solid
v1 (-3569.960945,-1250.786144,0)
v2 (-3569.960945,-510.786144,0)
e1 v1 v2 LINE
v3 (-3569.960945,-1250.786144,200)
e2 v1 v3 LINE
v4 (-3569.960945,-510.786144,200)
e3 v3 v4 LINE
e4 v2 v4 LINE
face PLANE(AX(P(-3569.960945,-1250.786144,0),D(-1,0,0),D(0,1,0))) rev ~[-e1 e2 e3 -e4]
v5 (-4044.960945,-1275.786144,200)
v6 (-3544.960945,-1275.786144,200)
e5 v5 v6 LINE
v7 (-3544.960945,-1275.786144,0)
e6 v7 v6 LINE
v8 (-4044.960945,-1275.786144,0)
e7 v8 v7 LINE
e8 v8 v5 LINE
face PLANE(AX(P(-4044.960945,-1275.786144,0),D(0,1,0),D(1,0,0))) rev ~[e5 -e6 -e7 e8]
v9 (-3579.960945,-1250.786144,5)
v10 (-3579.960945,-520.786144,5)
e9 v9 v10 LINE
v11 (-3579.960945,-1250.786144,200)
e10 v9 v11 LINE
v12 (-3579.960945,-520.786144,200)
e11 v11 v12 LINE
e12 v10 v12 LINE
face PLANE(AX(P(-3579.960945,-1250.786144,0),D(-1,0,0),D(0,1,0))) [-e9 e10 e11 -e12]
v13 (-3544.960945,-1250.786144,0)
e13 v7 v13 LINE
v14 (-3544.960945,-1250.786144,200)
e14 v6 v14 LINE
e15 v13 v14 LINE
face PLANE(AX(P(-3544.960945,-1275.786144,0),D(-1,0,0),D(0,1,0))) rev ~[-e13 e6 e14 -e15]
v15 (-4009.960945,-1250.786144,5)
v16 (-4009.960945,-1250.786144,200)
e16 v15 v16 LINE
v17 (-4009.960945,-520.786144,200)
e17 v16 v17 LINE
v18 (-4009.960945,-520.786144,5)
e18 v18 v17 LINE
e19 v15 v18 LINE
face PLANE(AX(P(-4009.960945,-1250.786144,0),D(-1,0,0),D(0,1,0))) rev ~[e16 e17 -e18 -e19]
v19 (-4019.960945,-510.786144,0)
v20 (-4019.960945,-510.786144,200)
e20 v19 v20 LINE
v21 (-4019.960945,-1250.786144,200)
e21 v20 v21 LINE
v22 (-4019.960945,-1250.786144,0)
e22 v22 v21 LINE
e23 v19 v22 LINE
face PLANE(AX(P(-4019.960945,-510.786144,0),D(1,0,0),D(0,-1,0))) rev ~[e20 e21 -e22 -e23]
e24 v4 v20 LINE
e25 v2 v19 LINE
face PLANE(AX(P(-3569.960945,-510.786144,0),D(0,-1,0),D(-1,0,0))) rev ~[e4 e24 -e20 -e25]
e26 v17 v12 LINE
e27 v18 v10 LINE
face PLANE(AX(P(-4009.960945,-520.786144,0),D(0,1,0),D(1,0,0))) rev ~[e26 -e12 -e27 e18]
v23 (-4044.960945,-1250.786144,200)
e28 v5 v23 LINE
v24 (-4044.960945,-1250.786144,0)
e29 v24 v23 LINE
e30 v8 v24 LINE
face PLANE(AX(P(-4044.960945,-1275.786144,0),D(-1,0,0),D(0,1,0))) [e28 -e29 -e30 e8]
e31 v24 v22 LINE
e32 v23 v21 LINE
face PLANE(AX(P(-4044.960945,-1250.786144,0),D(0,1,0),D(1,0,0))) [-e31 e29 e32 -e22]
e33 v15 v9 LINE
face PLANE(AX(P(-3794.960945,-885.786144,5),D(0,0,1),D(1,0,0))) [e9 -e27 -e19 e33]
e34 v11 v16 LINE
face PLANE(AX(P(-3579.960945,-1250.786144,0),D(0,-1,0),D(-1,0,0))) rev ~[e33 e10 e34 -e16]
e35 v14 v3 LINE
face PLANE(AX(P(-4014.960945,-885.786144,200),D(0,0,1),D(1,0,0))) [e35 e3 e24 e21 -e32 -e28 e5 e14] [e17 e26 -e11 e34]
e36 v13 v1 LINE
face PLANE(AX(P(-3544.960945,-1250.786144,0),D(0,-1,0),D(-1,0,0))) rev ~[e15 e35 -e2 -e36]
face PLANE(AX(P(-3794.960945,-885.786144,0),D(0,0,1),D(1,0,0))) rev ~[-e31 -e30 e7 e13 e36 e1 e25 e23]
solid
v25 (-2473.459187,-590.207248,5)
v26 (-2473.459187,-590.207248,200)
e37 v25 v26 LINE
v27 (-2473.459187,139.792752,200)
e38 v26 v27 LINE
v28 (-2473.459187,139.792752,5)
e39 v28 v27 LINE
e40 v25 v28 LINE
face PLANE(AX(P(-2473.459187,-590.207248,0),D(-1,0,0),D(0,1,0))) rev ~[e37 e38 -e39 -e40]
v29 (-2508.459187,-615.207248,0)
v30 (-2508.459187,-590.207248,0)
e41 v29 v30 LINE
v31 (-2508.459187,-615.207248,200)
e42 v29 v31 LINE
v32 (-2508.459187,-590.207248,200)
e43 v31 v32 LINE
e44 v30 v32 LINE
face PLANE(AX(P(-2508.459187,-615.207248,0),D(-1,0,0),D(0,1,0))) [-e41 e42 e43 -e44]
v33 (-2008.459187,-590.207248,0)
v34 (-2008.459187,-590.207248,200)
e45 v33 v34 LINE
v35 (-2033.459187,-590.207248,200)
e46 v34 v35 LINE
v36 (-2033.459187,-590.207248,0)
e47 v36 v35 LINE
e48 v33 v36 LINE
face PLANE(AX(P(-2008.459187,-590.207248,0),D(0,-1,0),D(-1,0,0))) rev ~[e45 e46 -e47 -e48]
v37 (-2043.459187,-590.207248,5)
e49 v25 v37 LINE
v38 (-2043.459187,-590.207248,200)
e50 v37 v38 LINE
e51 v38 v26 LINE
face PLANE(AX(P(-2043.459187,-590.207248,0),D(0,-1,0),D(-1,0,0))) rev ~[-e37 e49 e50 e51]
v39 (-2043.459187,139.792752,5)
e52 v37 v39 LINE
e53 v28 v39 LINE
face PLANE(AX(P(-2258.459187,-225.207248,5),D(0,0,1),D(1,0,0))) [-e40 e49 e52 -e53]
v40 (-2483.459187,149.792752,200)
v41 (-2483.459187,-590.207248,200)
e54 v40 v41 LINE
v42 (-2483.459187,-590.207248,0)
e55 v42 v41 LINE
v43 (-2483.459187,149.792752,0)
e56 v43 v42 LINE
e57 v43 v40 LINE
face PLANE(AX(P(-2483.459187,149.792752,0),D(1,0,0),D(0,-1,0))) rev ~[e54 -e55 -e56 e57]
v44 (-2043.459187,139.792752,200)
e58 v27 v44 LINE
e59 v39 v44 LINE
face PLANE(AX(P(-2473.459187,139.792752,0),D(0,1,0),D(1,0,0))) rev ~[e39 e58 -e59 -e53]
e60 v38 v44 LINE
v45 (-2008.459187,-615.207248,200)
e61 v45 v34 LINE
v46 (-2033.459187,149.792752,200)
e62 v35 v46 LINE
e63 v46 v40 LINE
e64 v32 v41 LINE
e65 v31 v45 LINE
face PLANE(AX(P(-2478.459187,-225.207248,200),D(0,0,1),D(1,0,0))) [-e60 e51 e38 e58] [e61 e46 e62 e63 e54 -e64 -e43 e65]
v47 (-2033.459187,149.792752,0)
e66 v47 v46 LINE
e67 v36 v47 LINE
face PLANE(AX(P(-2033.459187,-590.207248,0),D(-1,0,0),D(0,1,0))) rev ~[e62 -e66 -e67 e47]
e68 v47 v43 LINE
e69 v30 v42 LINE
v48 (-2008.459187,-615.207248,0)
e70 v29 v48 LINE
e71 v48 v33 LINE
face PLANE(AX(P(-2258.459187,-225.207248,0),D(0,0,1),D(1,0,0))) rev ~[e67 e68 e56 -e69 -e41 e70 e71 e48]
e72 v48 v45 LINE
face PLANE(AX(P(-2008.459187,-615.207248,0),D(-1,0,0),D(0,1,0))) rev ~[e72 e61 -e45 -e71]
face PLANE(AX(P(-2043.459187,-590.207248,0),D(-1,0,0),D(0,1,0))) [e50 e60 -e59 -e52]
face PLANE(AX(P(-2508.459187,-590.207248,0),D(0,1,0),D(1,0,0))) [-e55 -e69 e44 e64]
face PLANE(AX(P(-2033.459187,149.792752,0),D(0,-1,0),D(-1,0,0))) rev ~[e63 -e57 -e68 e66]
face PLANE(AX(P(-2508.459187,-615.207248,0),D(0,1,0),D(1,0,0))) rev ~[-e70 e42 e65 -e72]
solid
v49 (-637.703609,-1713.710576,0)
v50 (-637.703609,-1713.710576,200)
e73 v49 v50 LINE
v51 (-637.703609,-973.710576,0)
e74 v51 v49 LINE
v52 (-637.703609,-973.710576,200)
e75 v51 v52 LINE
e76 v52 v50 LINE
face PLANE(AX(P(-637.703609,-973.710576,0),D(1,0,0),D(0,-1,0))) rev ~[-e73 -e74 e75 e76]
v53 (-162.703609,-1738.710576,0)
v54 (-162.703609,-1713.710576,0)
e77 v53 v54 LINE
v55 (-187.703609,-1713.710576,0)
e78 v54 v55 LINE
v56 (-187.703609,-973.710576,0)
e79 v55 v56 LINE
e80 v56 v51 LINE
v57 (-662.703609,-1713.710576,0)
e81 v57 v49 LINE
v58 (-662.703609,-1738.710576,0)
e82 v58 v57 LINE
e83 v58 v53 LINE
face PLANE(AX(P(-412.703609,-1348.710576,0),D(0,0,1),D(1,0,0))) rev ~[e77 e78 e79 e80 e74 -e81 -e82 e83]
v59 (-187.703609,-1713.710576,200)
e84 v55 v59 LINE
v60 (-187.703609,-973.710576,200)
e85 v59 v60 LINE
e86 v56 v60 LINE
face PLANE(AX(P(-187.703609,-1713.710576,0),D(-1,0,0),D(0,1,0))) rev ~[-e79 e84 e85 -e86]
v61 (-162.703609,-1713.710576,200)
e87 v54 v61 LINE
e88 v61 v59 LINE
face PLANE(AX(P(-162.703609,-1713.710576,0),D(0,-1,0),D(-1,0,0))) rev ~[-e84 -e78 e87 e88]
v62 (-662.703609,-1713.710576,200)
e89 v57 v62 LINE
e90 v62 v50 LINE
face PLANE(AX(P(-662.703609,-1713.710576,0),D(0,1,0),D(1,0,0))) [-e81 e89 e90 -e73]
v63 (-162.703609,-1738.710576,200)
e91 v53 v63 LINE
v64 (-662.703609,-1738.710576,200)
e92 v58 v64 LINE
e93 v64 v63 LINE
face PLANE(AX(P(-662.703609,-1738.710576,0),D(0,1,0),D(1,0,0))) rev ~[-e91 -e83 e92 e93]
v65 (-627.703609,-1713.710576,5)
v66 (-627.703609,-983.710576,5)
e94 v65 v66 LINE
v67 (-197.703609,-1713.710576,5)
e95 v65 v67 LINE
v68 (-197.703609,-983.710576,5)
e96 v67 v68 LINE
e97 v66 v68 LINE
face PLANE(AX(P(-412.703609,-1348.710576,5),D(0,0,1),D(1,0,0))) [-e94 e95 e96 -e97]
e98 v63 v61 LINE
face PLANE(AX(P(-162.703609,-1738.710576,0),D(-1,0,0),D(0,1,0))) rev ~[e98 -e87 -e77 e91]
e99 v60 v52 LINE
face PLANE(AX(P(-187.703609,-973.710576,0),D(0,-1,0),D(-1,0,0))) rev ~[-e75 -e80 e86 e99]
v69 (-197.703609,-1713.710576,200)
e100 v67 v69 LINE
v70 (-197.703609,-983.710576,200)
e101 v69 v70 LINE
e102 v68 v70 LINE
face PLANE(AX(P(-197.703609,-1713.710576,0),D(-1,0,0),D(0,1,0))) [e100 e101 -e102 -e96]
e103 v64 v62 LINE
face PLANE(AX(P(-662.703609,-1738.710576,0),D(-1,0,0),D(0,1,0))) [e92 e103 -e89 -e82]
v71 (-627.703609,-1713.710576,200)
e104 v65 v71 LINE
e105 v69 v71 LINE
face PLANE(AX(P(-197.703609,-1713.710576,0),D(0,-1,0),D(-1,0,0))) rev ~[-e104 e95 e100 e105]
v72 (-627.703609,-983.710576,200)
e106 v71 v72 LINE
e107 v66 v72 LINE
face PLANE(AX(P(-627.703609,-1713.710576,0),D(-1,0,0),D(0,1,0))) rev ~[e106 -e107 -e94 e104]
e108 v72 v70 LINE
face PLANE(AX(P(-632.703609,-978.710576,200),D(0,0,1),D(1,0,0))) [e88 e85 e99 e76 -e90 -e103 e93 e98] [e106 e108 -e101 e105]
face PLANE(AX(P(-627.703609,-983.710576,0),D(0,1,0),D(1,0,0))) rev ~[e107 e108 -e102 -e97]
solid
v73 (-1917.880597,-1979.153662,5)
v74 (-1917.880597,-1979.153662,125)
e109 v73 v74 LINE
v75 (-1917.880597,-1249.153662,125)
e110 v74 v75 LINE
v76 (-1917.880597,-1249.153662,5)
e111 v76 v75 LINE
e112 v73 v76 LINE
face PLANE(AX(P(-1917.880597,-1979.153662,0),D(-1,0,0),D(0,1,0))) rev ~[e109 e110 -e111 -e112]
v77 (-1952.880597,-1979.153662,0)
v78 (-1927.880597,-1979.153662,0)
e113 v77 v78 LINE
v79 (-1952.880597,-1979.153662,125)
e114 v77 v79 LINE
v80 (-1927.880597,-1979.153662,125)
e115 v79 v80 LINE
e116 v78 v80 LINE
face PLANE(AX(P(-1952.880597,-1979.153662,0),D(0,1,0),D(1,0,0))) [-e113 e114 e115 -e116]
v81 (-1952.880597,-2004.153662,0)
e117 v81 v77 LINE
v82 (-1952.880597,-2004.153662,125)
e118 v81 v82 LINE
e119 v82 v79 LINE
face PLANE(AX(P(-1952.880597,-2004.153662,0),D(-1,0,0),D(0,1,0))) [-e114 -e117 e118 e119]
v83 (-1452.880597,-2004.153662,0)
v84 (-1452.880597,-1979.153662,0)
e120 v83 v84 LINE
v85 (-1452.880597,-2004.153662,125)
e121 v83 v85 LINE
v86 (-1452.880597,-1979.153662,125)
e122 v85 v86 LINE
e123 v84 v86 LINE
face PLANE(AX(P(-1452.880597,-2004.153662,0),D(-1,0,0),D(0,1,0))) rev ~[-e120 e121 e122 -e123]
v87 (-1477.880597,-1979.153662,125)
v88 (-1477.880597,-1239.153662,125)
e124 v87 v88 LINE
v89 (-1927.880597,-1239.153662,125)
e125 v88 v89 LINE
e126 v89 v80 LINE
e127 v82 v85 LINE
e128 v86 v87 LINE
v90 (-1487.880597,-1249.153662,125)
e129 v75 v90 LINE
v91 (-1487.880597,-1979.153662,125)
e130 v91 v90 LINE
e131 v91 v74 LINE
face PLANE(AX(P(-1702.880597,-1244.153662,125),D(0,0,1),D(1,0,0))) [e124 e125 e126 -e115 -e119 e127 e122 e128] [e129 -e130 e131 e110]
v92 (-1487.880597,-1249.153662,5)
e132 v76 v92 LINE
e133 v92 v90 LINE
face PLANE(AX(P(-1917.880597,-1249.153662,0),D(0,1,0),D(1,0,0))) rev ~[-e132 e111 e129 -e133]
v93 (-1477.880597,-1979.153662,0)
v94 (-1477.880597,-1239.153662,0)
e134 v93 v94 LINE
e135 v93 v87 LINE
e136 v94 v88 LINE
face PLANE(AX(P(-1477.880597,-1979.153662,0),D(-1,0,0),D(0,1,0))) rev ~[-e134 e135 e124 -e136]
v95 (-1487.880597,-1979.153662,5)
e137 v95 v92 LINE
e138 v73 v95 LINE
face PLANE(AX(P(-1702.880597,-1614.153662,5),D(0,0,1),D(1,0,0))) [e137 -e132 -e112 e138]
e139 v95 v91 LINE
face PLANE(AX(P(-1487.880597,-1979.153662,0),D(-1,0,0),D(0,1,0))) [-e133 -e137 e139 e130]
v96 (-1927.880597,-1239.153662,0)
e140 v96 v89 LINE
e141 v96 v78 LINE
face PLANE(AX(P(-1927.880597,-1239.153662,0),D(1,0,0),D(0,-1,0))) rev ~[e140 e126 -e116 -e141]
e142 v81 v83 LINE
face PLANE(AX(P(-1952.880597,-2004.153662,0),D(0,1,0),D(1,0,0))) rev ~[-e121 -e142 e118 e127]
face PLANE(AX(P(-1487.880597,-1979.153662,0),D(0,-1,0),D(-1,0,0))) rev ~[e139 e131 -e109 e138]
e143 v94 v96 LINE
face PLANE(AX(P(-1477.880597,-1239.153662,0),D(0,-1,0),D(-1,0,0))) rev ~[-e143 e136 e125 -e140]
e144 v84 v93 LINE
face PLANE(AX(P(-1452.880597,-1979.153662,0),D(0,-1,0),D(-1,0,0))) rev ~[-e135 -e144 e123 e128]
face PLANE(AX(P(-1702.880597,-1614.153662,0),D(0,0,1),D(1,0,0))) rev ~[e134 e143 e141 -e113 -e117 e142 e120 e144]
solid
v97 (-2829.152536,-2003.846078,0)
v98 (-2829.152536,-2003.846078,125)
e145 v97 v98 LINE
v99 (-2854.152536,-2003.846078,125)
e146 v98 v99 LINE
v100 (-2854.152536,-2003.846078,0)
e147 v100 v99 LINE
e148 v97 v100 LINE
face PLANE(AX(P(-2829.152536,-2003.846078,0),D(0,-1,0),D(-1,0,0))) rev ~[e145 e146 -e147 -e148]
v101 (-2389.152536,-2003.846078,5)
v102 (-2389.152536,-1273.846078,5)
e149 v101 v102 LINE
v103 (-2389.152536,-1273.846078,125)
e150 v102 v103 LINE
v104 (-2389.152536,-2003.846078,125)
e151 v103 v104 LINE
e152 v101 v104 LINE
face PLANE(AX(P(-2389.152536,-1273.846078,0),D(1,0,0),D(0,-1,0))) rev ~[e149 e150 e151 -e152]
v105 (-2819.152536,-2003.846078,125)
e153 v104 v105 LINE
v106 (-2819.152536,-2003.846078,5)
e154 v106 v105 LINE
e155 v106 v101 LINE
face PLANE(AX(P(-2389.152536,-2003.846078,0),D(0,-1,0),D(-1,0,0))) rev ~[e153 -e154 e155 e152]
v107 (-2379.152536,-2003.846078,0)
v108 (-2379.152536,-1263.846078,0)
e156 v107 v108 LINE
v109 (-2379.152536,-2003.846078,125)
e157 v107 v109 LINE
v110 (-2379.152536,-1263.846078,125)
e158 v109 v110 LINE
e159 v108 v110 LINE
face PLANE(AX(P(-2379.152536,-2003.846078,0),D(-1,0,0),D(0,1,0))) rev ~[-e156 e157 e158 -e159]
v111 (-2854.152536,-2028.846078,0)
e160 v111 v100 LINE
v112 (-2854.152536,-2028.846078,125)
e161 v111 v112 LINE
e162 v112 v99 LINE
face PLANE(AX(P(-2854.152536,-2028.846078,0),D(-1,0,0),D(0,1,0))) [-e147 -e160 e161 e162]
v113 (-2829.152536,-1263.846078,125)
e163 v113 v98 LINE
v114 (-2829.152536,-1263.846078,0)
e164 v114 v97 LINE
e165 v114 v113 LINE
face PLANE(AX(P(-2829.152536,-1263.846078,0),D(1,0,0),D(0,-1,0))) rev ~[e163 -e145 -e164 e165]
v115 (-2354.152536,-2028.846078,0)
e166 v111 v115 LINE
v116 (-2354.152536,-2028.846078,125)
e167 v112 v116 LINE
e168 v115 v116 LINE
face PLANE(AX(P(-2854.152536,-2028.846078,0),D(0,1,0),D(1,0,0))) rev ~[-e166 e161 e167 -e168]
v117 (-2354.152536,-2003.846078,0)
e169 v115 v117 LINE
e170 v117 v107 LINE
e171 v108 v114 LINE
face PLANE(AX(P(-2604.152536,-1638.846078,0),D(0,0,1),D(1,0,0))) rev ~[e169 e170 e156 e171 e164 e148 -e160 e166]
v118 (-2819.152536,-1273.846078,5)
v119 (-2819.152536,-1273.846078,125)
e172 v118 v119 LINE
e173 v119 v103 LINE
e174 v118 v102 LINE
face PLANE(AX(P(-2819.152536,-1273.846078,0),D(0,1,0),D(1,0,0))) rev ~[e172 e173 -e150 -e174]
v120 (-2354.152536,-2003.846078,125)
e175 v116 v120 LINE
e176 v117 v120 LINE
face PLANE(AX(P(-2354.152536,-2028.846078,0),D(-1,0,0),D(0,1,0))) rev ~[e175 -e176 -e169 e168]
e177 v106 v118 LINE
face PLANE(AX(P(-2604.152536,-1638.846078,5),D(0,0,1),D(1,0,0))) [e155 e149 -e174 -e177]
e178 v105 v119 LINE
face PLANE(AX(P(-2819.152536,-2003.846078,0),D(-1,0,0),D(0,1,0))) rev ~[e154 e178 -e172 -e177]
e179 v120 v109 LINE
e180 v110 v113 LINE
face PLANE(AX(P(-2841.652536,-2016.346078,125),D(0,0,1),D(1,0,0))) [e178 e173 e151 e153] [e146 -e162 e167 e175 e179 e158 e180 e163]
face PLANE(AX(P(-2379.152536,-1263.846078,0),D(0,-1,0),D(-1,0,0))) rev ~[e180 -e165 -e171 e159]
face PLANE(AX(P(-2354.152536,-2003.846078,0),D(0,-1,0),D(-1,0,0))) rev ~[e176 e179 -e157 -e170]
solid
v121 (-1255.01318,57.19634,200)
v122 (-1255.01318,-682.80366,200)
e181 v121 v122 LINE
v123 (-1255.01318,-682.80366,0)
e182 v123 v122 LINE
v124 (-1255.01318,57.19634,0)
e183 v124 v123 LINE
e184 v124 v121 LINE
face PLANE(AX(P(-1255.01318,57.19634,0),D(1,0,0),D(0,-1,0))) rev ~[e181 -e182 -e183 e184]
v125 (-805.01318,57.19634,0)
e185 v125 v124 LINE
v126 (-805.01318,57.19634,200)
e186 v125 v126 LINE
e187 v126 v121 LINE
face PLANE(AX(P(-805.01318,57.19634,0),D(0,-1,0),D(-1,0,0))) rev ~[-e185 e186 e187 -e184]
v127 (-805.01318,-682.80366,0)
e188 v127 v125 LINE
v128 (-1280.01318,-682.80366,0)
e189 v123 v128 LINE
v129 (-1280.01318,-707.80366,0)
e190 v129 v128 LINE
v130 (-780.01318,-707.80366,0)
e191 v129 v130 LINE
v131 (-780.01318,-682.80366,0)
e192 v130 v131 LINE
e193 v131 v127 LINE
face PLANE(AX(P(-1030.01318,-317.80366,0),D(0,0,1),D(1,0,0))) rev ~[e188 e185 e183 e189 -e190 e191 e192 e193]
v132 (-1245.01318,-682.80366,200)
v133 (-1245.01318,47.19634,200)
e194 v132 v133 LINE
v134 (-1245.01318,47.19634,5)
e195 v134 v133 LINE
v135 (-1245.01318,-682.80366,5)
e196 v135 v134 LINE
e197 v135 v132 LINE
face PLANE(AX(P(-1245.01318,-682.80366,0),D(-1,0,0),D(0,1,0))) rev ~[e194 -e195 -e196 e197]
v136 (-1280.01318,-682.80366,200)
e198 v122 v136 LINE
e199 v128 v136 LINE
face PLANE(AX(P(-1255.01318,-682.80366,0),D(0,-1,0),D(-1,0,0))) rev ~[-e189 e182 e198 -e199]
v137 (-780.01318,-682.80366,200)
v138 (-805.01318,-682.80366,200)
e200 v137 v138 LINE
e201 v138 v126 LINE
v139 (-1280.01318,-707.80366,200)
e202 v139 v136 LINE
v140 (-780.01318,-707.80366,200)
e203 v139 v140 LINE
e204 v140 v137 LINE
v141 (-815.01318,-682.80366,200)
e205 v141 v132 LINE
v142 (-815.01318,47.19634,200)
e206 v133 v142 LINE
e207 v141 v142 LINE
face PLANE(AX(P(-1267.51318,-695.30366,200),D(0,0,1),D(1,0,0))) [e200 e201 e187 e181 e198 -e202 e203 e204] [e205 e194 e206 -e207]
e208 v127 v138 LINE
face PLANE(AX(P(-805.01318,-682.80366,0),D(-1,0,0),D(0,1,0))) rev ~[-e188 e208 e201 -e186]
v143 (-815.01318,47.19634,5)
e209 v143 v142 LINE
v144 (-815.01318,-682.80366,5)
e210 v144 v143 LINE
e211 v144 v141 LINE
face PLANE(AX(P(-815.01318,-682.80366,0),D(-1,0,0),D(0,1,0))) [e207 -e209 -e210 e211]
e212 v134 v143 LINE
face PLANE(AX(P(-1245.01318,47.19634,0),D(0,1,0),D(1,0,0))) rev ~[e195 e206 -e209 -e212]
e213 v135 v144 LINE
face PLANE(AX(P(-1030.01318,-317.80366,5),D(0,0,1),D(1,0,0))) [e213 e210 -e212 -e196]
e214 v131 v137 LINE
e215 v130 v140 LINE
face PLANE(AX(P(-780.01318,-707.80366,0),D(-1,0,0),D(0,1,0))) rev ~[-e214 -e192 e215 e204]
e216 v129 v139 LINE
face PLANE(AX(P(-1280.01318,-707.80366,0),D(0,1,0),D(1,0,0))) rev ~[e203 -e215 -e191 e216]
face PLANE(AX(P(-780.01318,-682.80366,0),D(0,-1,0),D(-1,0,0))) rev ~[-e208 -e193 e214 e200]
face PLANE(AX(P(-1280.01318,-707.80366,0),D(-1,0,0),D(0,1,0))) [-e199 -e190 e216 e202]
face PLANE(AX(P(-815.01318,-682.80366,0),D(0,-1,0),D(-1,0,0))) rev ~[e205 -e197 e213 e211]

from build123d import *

# Parameters (mm, degrees)
F0_W     = 430
F0_H     = 10
F0_W_2   = 10
F0_H_2   = 730
F0_W_3   = 25
F0_H_3   = 25
F1_DEPTH = 200
F2_DEPTH = 125
F3_DEPTH = 5


with BuildPart() as f1:
    # F0 (on Top) → F1 (new body)
    with BuildSketch(Plane.XY):
        Polygon((-4019.9609445532, -520.78614374), (-4019.9609445532, -780.78614374), (-4019.9609445532, -1080.78614374), (-4019.9609445532, -1250.78614374), (-4009.9609445532, -1250.78614374), (-4009.9609445532, -520.78614374), align=None)
        with Locations((-3794.9609445532, -515.78614374)):
            Rectangle(F0_W, F0_H)
        with Locations((-4014.9609445532, -515.78614374)):
            Rectangle(F0_W_2, F0_H)
        with Locations((-3574.9609445532, -515.78614374)):
            Rectangle(F0_W_2, F0_H)
        with Locations((-3574.9609445532, -885.78614374)):
            Rectangle(F0_W_2, F0_H_2)
        Polygon((-3569.9609445532, -1271.3719205062), (-3569.9609445532, -1275.78614374), (-3544.9609445532, -1275.78614374), (-3544.9609445532, -1250.78614374), (-3569.9609445532, -1250.78614374), align=None)
        Polygon((-4009.9609445532, -1250.78614374), (-4019.9609445532, -1250.78614374), (-4019.9609445532, -1275.78614374), (-3569.9609445532, -1275.78614374), (-3569.9609445532, -1271.3719205062), (-3569.9609445532, -1250.78614374), (-3579.9609445532, -1250.78614374), align=None)
        with Locations((-4032.4609445532, -1263.28614374)):
            Rectangle(F0_W_3, F0_H_3)
    extrude(amount=F1_DEPTH)

    # F0 (on Top) → F3, piece 6 (join)
    with BuildSketch(Plane.XY):
        with Locations((-3794.9609445532, -885.78614374)):
            Rectangle(F0_W, F0_H_2)
    extrude(amount=F3_DEPTH)


with BuildPart() as f1b:
    # F0 (on Top) → F1, piece 2 (new body)
    with BuildSketch(Plane.XY):
        Polygon((-2483.459186554, 139.7927517568), (-2483.459186554, -120.2072482432), (-2483.459186554, -420.2072482432), (-2483.459186554, -590.2072482432), (-2473.459186554, -590.2072482432), (-2473.459186554, 139.7927517568), align=None)
        with Locations((-2478.459186554, 144.7927517568)):
            Rectangle(F0_W_2, F0_H)
        with Locations((-2258.459186554, 144.7927517568)):
            Rectangle(F0_W, F0_H)
        with Locations((-2038.459186554, -225.2072482432)):
            Rectangle(F0_W_2, F0_H_2)
        with Locations((-2038.459186554, 144.7927517568)):
            Rectangle(F0_W_2, F0_H)
        Polygon((-2473.459186554, -590.2072482432), (-2483.459186554, -590.2072482432), (-2483.459186554, -615.2072482432), (-2033.459186554, -615.2072482432), (-2033.459186554, -610.7930250093), (-2033.459186554, -590.2072482432), (-2043.459186554, -590.2072482432), align=None)
        Polygon((-2033.459186554, -610.7930250093), (-2033.459186554, -615.2072482432), (-2008.459186554, -615.2072482432), (-2008.459186554, -590.2072482432), (-2033.459186554, -590.2072482432), align=None)
        with Locations((-2495.959186554, -602.7072482432)):
            Rectangle(F0_W_3, F0_H_3)
    extrude(amount=F1_DEPTH)

    # F0 (on Top) → F3, piece 5 (join)
    with BuildSketch(Plane.XY):
        with Locations((-2258.459186554, -225.2072482432)):
            Rectangle(F0_W, F0_H_2)
    extrude(amount=F3_DEPTH)


with BuildPart() as f1c:
    # F0 (on Top) → F1, piece 3 (new body)
    with BuildSketch(Plane.XY):
        with Locations((-1267.5131797791, -695.3036599482)):
            Rectangle(F0_W_3, F0_H_3)
        Polygon((-1245.0131797791, -682.8036599482), (-1255.0131797791, -682.8036599482), (-1255.0131797791, -707.8036599482), (-805.0131797791, -707.8036599482), (-805.0131797791, -703.3894367144), (-805.0131797791, -682.8036599482), (-815.0131797791, -682.8036599482), align=None)
        Polygon((-805.0131797791, -703.3894367144), (-805.0131797791, -707.8036599482), (-780.0131797791, -707.8036599482), (-780.0131797791, -682.8036599482), (-805.0131797791, -682.8036599482), align=None)
        with Locations((-810.0131797791, -317.8036599482)):
            Rectangle(F0_W_2, F0_H_2)
        Polygon((-1255.0131797791, 47.1963400518), (-1255.0131797791, -212.8036599482), (-1255.0131797791, -512.8036599482), (-1255.0131797791, -682.8036599482), (-1245.0131797791, -682.8036599482), (-1245.0131797791, 47.1963400518), align=None)
        with Locations((-1250.0131797791, 52.1963400518)):
            Rectangle(F0_W_2, F0_H)
        with Locations((-1030.0131797791, 52.1963400518)):
            Rectangle(F0_W, F0_H)
        with Locations((-810.0131797791, 52.1963400518)):
            Rectangle(F0_W_2, F0_H)
    extrude(amount=F1_DEPTH)

    # F0 (on Top) → F3, piece 4 (join)
    with BuildSketch(Plane.XY):
        with Locations((-1030.0131797791, -317.8036599482)):
            Rectangle(F0_W, F0_H_2)
    extrude(amount=F3_DEPTH)


with BuildPart() as f1d:
    # F0 (on Top) → F1, piece 4 (new body)
    with BuildSketch(Plane.XY):
        with Locations((-632.7036094666, -978.7105756129)):
            Rectangle(F0_W_2, F0_H)
        with Locations((-412.7036094666, -978.7105756129)):
            Rectangle(F0_W, F0_H)
        with Locations((-192.7036094666, -978.7105756129)):
            Rectangle(F0_W_2, F0_H)
        with Locations((-192.7036094666, -1348.7105756129)):
            Rectangle(F0_W_2, F0_H_2)
        Polygon((-637.7036094666, -983.7105756129), (-637.7036094666, -1243.7105756129), (-637.7036094666, -1543.7105756129), (-637.7036094666, -1713.7105756129), (-627.7036094666, -1713.7105756129), (-627.7036094666, -983.7105756129), align=None)
        with Locations((-650.2036094666, -1726.2105756129)):
            Rectangle(F0_W_3, F0_H_3)
        Polygon((-627.7036094666, -1713.7105756129), (-637.7036094666, -1713.7105756129), (-637.7036094666, -1738.7105756129), (-187.7036094666, -1738.7105756129), (-187.7036094666, -1734.296352379), (-187.7036094666, -1713.7105756129), (-197.7036094666, -1713.7105756129), align=None)
        Polygon((-187.7036094666, -1734.296352379), (-187.7036094666, -1738.7105756129), (-162.7036094666, -1738.7105756129), (-162.7036094666, -1713.7105756129), (-187.7036094666, -1713.7105756129), align=None)
    extrude(amount=F1_DEPTH)

    # F0 (on Top) → F3, piece 3 (join)
    with BuildSketch(Plane.XY):
        with Locations((-412.7036094666, -1348.7105756129)):
            Rectangle(F0_W, F0_H_2)
    extrude(amount=F3_DEPTH)


with BuildPart() as f2:
    # F0 (on Top) → F2 (new body)
    with BuildSketch(Plane.XY):
        with Locations((-2841.6525363922, -2016.3460784281)):
            Rectangle(F0_W_3, F0_H_3)
        Polygon((-2819.1525363922, -2003.8460784281), (-2829.1525363922, -2003.8460784281), (-2829.1525363922, -2028.8460784281), (-2379.1525363922, -2028.8460784281), (-2379.1525363922, -2024.4318551943), (-2379.1525363922, -2003.8460784281), (-2389.1525363922, -2003.8460784281), align=None)
        Polygon((-2379.1525363922, -2024.4318551943), (-2379.1525363922, -2028.8460784281), (-2354.1525363922, -2028.8460784281), (-2354.1525363922, -2003.8460784281), (-2379.1525363922, -2003.8460784281), align=None)
        with Locations((-2384.1525363922, -1638.8460784281)):
            Rectangle(F0_W_2, F0_H_2)
        with Locations((-2384.1525363922, -1268.8460784281)):
            Rectangle(F0_W_2, F0_H)
        with Locations((-2604.1525363922, -1268.8460784281)):
            Rectangle(F0_W, F0_H)
        Polygon((-2829.1525363922, -1273.8460784281), (-2829.1525363922, -1533.8460784281), (-2829.1525363922, -1833.8460784281), (-2829.1525363922, -2003.8460784281), (-2819.1525363922, -2003.8460784281), (-2819.1525363922, -1273.8460784281), align=None)
        with Locations((-2824.1525363922, -1268.8460784281)):
            Rectangle(F0_W_2, F0_H)
    extrude(amount=F2_DEPTH)

    # F0 (on Top) → F3 (join)
    with BuildSketch(Plane.XY):
        with Locations((-2604.1525363922, -1638.8460784281)):
            Rectangle(F0_W, F0_H_2)
    extrude(amount=F3_DEPTH)


with BuildPart() as f2b:
    # F0 (on Top) → F2, piece 2 (new body)
    with BuildSketch(Plane.XY):
        with Locations((-1702.8805971146, -1244.153662237)):
            Rectangle(F0_W, F0_H)
        with Locations((-1922.8805971146, -1244.153662237)):
            Rectangle(F0_W_2, F0_H)
        Polygon((-1927.8805971146, -1249.153662237), (-1927.8805971146, -1509.153662237), (-1927.8805971146, -1809.153662237), (-1927.8805971146, -1979.153662237), (-1917.8805971146, -1979.153662237), (-1917.8805971146, -1249.153662237), align=None)
        with Locations((-1940.3805971146, -1991.653662237)):
            Rectangle(F0_W_3, F0_H_3)
        Polygon((-1917.8805971146, -1979.153662237), (-1927.8805971146, -1979.153662237), (-1927.8805971146, -2004.153662237), (-1477.8805971146, -2004.153662237), (-1477.8805971146, -1999.7394390032), (-1477.8805971146, -1979.153662237), (-1487.8805971146, -1979.153662237), align=None)
        Polygon((-1477.8805971146, -1999.7394390032), (-1477.8805971146, -2004.153662237), (-1452.8805971146, -2004.153662237), (-1452.8805971146, -1979.153662237), (-1477.8805971146, -1979.153662237), align=None)
        with Locations((-1482.8805971146, -1614.153662237)):
            Rectangle(F0_W_2, F0_H_2)
        with Locations((-1482.8805971146, -1244.153662237)):
            Rectangle(F0_W_2, F0_H)
    extrude(amount=F2_DEPTH)

    # F0 (on Top) → F3, piece 2 (join)
    with BuildSketch(Plane.XY):
        with Locations((-1702.8805971146, -1614.153662237)):
            Rectangle(F0_W, F0_H_2)
    extrude(amount=F3_DEPTH)


solid = Compound([f1.part, f1b.part, f1c.part, f1d.part, f2.part, f2b.part])
